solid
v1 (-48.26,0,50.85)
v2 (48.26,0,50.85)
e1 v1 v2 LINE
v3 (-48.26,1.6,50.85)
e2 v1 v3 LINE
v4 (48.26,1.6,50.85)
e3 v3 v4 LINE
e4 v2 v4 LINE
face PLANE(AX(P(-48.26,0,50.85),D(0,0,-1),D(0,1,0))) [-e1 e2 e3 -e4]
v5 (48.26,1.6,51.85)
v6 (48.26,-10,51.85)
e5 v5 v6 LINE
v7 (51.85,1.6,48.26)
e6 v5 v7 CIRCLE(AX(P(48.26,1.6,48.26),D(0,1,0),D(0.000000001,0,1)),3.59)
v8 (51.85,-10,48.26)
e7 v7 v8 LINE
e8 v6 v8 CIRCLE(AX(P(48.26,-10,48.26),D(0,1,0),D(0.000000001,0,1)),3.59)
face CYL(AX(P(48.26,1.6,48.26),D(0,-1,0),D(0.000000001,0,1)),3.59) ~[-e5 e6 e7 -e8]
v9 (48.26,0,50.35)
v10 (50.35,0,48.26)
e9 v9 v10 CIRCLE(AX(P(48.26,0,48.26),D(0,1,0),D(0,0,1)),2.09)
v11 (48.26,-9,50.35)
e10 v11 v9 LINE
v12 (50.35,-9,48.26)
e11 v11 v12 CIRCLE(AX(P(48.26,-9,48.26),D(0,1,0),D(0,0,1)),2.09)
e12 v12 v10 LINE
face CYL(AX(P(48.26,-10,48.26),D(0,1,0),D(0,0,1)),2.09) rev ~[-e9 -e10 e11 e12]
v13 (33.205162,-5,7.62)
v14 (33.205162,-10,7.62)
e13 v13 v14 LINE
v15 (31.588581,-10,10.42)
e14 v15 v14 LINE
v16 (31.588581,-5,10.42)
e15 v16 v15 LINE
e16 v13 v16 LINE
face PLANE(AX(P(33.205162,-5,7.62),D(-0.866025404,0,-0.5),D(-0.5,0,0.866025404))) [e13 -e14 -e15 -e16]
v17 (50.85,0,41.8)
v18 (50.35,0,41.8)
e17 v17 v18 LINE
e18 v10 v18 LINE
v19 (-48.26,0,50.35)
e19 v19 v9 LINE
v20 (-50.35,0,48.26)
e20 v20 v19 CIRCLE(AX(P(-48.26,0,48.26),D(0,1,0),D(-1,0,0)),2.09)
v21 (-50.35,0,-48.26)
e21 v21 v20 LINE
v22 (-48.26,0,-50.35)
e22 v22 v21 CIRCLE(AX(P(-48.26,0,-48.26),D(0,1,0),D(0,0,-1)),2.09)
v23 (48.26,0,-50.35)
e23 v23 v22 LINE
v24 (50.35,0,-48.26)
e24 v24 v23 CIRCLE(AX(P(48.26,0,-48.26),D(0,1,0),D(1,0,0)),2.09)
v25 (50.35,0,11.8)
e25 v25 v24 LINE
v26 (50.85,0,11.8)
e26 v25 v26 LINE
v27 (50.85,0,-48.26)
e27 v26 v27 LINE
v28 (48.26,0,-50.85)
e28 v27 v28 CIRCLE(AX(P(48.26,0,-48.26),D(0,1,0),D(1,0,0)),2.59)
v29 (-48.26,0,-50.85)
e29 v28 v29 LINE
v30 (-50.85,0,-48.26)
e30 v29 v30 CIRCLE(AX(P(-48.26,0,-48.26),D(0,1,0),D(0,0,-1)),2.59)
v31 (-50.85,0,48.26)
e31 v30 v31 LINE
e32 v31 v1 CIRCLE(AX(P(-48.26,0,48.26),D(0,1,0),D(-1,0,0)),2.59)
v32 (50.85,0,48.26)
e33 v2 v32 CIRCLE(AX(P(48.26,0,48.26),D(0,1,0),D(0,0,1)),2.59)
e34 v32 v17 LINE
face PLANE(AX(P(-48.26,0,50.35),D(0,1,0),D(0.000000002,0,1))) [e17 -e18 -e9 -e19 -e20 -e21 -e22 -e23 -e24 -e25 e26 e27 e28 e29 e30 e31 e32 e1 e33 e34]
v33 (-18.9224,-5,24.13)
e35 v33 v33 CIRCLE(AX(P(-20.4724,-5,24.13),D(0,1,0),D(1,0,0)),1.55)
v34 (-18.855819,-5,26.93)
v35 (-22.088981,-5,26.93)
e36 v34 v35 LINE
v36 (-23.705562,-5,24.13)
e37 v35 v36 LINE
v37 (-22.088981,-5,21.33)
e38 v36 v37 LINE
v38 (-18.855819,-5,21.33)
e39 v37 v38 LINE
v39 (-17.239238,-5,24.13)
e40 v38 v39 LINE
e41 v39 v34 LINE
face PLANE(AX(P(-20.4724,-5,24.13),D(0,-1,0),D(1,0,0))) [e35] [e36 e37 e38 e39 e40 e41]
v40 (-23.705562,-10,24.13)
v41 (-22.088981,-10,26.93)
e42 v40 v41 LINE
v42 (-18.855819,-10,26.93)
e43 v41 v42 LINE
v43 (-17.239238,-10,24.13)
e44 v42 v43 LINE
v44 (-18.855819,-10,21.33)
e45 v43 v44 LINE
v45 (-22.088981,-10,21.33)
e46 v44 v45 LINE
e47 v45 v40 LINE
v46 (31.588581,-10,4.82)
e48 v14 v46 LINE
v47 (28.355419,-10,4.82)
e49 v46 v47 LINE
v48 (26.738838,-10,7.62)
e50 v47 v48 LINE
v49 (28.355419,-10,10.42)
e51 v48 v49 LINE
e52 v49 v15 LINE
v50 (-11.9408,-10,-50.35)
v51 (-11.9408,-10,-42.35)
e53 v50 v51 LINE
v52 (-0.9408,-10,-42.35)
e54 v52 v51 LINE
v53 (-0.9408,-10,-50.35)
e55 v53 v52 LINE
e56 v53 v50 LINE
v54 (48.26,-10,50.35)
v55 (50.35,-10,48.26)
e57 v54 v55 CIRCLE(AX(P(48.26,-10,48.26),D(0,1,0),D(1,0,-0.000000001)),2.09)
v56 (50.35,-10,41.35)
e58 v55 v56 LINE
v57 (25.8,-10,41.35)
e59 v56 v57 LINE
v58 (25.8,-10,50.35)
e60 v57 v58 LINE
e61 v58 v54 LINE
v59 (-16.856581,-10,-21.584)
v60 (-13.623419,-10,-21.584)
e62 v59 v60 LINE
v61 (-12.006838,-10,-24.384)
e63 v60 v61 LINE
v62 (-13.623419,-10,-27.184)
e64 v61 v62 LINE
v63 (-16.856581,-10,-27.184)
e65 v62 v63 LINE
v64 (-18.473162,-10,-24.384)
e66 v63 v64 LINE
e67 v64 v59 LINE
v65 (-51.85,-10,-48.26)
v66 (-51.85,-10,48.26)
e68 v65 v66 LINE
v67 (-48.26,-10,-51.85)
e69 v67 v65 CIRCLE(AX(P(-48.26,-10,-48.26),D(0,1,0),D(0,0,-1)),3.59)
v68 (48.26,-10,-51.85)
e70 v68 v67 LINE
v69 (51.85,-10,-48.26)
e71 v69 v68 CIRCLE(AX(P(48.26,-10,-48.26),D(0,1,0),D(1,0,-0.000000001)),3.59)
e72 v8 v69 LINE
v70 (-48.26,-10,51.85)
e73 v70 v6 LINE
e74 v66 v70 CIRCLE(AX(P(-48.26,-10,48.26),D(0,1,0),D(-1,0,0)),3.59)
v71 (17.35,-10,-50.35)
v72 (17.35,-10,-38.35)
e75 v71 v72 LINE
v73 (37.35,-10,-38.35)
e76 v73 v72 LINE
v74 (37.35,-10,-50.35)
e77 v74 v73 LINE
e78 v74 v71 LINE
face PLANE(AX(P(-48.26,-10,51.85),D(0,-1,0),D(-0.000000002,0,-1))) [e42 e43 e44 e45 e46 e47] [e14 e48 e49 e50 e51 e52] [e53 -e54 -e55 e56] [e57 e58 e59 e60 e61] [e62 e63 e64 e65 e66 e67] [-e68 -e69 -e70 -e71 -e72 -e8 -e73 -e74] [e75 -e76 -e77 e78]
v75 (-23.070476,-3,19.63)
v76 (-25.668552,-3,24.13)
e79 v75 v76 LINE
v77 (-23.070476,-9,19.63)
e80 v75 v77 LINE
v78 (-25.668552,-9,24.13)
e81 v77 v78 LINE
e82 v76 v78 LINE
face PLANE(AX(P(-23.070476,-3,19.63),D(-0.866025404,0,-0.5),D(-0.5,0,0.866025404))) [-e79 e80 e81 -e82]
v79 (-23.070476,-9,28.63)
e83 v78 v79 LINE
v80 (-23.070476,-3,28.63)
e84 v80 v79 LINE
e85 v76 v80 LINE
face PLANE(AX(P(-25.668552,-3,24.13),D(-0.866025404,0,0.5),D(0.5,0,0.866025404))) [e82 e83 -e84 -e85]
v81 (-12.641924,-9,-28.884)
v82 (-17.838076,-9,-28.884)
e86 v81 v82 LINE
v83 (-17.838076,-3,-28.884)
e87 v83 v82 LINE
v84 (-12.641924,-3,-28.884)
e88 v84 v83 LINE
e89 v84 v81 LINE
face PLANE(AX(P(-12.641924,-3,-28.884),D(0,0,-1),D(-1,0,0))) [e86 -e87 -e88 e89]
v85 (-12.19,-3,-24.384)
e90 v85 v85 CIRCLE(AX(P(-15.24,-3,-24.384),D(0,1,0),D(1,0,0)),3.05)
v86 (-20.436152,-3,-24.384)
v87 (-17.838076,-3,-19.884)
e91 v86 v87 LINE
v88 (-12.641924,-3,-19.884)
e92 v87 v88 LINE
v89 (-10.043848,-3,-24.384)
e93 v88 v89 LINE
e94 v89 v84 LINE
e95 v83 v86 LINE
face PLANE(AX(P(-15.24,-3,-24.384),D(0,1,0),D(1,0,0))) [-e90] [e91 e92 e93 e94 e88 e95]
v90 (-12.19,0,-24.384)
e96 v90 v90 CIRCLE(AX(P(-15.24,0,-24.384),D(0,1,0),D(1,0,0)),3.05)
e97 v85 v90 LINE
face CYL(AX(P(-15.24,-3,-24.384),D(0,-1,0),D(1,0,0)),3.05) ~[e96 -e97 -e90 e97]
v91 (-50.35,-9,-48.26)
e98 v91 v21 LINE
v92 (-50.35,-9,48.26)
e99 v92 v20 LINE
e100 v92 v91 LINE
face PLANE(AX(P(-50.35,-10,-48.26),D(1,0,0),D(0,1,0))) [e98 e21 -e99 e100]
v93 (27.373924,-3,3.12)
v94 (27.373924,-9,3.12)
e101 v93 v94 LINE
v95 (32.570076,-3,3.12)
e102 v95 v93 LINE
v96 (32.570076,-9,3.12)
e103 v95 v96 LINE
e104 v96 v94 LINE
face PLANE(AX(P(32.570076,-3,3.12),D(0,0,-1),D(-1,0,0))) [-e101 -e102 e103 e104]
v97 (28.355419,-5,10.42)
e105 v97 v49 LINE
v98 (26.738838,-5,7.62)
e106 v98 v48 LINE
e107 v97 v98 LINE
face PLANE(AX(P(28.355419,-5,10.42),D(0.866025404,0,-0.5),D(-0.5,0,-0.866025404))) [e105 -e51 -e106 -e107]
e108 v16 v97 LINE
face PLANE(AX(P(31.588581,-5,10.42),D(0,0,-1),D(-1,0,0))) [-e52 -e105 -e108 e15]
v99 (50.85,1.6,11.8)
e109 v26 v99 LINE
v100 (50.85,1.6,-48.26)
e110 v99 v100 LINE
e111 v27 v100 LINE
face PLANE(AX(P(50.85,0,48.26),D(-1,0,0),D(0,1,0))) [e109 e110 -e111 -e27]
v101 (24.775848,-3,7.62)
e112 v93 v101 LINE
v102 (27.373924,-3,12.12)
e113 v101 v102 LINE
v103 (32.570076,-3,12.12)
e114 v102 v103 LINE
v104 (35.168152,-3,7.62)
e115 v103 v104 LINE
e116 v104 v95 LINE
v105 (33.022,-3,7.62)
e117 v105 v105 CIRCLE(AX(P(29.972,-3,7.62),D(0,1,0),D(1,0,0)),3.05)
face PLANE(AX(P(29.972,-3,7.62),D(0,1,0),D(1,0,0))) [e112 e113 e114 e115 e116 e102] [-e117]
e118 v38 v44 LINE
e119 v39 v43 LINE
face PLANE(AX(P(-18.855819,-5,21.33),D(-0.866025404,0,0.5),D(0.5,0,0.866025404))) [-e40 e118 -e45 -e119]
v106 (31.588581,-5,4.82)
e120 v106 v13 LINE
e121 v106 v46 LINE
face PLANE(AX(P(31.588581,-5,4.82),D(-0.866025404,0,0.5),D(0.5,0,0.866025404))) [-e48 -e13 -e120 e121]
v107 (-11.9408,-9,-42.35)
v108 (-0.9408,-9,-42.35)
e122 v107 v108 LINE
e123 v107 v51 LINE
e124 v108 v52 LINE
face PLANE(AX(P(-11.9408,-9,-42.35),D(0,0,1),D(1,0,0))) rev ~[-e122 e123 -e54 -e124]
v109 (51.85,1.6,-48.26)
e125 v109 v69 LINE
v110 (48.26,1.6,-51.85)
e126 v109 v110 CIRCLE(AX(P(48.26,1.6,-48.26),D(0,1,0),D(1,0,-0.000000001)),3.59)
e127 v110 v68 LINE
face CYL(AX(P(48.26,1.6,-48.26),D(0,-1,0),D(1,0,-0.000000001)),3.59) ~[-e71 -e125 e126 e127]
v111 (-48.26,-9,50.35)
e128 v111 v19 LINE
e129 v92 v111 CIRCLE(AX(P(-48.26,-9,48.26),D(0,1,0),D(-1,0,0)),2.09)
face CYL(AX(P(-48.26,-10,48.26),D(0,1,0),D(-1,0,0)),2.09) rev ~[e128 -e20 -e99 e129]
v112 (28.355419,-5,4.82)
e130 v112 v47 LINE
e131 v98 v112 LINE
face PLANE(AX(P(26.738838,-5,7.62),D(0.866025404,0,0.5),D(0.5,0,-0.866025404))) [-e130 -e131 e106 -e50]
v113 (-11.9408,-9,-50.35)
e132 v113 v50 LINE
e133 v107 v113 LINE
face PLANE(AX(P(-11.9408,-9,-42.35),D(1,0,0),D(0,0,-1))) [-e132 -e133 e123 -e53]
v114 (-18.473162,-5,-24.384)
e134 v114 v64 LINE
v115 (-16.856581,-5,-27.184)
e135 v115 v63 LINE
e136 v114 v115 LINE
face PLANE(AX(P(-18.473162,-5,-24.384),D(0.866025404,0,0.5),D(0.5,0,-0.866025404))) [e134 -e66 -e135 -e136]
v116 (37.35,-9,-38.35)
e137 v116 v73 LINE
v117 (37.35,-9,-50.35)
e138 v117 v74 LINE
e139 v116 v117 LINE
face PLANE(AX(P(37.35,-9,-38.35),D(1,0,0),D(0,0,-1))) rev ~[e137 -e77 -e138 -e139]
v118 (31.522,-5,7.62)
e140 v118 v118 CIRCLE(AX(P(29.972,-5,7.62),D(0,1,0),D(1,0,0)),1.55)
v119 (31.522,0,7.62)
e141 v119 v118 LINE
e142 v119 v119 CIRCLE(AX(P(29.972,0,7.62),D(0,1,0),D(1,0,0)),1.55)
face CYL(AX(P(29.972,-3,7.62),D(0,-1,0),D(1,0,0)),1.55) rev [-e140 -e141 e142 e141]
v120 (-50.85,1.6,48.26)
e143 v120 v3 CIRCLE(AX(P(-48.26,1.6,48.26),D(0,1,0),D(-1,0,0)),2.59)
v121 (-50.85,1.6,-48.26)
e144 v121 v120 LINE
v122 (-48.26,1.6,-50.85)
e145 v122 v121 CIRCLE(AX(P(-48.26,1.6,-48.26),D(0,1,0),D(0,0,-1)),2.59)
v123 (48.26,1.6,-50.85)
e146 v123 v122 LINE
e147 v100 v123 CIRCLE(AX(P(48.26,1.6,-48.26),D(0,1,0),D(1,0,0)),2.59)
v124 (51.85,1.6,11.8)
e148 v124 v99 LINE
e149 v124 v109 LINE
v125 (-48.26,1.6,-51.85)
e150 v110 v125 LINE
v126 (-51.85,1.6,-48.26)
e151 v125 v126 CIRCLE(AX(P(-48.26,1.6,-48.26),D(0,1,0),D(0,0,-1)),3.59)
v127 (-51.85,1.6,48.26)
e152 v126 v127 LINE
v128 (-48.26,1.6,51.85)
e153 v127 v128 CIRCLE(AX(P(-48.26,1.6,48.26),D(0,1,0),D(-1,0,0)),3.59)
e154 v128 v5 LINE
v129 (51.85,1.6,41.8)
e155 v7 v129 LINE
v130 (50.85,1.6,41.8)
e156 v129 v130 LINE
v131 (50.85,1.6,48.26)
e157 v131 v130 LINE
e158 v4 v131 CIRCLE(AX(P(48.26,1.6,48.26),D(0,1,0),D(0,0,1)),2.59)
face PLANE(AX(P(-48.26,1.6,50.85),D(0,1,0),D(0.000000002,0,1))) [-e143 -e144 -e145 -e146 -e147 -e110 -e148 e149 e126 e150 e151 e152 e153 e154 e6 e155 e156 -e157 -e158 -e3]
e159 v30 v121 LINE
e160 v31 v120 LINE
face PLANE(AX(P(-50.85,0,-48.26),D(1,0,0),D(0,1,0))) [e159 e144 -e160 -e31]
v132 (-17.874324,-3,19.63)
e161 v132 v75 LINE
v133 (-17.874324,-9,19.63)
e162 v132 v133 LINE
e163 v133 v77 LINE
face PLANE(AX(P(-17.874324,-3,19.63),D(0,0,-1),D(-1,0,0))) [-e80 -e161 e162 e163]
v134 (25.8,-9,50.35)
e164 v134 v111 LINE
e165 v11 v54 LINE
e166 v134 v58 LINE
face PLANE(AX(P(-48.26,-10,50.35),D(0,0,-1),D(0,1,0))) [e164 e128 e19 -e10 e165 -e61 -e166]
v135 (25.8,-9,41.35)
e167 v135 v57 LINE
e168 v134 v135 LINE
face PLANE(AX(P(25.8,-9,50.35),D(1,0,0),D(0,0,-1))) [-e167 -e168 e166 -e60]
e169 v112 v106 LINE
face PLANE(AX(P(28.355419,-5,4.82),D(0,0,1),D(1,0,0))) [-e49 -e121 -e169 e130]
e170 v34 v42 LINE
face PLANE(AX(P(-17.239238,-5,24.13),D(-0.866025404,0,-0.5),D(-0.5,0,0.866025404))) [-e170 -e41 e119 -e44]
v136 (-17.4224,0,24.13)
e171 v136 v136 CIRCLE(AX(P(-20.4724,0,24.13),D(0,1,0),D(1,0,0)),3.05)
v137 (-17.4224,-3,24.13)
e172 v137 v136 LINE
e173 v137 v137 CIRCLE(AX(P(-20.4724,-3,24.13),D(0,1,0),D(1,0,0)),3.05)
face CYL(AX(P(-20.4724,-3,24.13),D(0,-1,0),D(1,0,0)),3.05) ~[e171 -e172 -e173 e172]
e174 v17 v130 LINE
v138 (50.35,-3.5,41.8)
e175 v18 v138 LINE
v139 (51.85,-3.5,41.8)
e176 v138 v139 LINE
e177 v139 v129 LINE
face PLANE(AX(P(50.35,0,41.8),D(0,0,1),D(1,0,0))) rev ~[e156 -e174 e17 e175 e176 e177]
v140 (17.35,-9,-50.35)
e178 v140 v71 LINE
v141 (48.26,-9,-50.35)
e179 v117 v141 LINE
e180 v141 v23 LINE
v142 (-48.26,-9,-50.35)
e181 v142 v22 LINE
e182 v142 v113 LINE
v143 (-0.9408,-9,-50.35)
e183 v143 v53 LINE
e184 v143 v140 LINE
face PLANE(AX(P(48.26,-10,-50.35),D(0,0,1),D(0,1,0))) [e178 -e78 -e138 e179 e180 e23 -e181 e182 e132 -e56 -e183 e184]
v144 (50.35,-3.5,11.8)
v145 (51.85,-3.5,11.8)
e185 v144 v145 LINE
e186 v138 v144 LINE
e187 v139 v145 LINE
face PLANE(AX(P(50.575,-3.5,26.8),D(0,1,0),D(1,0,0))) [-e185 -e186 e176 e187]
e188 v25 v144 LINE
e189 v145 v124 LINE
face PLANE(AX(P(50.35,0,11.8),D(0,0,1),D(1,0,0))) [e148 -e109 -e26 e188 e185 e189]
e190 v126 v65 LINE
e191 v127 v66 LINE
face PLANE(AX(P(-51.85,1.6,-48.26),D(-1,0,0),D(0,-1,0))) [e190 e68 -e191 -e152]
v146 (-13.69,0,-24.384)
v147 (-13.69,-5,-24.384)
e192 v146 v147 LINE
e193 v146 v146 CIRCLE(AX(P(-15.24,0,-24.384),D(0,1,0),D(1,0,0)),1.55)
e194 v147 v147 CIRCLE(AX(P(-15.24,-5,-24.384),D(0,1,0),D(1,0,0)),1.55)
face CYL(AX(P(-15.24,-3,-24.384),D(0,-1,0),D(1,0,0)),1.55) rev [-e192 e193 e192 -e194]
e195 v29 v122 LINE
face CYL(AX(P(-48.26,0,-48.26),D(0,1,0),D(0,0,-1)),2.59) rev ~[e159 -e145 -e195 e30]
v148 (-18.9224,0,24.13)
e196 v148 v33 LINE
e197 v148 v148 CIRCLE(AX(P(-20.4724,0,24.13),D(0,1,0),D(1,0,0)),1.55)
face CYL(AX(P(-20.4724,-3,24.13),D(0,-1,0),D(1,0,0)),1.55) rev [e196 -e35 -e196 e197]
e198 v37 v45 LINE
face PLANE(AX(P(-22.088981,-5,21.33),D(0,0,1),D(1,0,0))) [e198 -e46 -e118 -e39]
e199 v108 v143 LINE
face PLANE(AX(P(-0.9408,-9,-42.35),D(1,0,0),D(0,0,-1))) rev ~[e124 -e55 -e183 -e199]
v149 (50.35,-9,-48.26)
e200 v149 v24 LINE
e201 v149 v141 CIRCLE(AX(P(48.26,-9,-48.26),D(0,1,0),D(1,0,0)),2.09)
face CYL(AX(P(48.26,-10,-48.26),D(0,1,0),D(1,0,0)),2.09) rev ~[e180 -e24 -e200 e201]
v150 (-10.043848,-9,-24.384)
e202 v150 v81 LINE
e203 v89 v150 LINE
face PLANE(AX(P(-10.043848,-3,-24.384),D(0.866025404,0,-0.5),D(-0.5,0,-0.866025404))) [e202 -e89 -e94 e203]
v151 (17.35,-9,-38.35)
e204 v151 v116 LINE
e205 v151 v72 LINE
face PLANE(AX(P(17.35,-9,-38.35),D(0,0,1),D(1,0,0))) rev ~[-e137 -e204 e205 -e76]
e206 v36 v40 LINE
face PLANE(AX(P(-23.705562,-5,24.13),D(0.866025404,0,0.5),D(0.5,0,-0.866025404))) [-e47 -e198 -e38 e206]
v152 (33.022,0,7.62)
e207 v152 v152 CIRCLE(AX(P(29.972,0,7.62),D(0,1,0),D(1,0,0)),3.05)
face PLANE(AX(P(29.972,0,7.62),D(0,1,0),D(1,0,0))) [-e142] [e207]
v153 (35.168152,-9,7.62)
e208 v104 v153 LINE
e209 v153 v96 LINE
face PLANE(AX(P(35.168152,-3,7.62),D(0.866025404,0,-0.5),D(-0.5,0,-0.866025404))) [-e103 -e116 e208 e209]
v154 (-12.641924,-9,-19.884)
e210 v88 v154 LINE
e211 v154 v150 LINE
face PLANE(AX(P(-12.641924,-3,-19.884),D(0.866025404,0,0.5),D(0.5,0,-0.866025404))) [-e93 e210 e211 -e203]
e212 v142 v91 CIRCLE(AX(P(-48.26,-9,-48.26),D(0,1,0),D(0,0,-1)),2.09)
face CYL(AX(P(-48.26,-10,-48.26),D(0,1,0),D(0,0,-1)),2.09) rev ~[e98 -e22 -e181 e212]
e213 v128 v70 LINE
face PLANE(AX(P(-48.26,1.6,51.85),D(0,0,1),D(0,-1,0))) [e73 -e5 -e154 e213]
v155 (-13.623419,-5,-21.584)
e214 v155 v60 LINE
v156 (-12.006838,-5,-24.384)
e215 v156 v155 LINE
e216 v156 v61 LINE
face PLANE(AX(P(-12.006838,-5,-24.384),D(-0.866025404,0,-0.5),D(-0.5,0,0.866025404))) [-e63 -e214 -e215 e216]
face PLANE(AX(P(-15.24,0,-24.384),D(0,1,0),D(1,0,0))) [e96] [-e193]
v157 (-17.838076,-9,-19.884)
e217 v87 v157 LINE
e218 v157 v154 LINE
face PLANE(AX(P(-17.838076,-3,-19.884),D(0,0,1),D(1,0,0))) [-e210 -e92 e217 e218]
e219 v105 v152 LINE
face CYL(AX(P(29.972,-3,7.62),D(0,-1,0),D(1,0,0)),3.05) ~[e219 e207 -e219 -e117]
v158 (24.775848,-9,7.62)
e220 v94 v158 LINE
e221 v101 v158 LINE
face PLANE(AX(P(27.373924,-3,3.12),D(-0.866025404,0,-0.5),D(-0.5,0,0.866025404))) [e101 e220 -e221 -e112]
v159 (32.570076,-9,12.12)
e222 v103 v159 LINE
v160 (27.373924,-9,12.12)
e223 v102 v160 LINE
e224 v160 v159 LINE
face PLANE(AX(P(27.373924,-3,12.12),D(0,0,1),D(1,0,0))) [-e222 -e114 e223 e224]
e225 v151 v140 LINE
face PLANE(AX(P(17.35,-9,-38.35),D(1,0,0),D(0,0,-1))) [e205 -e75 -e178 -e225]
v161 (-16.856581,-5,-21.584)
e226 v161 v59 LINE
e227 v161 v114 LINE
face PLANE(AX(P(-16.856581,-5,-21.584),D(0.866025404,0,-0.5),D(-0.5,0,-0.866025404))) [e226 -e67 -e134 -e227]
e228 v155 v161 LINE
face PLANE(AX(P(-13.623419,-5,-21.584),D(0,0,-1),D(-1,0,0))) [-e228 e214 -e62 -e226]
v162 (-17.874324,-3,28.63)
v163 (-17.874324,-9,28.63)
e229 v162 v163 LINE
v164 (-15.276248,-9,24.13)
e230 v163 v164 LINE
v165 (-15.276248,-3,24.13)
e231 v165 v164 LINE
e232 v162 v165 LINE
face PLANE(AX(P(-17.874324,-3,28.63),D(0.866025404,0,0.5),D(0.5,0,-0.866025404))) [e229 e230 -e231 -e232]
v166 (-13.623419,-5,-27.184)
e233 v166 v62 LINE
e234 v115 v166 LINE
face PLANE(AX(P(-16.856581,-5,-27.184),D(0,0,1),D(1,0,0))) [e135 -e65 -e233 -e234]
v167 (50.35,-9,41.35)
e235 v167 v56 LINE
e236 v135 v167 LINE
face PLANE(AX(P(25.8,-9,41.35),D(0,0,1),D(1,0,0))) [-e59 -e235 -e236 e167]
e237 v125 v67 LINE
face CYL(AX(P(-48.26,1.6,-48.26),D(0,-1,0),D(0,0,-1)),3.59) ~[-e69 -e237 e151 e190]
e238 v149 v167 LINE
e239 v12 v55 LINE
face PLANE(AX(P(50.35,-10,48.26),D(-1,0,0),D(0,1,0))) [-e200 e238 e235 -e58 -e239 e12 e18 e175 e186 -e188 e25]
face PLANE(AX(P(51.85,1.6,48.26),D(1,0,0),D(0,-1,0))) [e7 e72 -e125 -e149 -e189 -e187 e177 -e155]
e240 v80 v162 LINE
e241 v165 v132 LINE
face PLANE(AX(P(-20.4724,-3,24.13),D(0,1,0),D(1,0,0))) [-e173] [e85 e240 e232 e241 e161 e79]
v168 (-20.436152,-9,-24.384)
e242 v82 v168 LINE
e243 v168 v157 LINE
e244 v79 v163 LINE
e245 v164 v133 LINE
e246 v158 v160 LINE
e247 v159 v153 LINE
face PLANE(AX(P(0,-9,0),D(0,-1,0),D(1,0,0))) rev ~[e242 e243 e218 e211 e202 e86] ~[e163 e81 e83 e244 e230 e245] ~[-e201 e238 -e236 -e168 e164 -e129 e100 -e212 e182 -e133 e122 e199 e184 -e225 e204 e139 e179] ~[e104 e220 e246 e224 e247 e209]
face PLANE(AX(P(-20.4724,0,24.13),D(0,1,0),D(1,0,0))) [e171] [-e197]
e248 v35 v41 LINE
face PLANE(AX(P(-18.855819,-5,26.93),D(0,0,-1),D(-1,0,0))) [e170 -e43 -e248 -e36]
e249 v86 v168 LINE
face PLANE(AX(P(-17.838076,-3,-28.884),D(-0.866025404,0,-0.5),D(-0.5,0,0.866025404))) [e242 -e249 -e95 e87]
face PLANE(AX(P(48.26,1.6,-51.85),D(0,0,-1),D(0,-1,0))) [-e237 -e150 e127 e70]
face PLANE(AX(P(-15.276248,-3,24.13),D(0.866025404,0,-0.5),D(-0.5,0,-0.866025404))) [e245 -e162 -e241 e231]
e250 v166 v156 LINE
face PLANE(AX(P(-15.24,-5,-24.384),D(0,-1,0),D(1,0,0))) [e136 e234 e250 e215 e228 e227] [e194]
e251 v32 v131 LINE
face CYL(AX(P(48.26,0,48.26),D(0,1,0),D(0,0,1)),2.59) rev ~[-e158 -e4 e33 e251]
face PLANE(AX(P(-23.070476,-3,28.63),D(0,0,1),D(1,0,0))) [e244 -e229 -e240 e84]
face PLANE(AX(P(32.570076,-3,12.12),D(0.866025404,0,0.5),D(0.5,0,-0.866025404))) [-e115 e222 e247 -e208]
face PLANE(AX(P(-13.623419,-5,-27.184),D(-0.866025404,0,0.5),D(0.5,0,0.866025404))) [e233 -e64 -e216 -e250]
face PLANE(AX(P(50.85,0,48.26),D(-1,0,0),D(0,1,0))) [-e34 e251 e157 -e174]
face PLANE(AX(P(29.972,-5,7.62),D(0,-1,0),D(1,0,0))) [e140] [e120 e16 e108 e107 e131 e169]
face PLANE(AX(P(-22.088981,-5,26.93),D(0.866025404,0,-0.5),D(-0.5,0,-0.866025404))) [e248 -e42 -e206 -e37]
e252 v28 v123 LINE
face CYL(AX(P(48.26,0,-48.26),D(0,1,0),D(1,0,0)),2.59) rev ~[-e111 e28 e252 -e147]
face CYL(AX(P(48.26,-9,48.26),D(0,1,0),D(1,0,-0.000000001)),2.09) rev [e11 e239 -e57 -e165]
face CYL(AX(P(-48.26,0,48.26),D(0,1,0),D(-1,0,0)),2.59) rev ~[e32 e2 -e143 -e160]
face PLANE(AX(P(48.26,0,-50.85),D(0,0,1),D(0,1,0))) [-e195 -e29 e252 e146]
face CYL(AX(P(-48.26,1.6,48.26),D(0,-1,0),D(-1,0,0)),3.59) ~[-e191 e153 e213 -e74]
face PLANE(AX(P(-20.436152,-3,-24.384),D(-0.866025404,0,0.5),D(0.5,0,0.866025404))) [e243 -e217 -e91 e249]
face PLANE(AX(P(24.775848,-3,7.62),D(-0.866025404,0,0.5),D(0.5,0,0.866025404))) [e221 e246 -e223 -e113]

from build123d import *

# Parameters (mm, degrees)
SKETCH5_R           = 1.55
BOSS_EXTRUDE2_DEPTH = 1
BOSS_EXTRUDE3_START = -3
SKETCH6_R           = 1.55
BOSS_EXTRUDE3_DEPTH = 6
SKETCH11_R          = 3.05
SKETCH11_R_2        = 1.55
BOSS_EXTRUDE4_DEPTH = 3
CUT_EXTRUDE1_START  = 2
CUT_EXTRUDE1_DEPTH  = 6
SKETCH8_W           = 11
SKETCH8_H           = 8
SKETCH8_W_2         = 20
SKETCH8_H_2         = 12
CUT_EXTRUDE2_DEPTH  = 2
SKETCH9_W           = 0.45
SKETCH9_H           = 30
CUT_EXTRUDE3_DEPTH  = 3.5
CUT_EXTRUDE4_REACH  = 105.7
SKETCH10_W          = 30
SKETCH10_H          = 5.1


with BuildPart() as part:
    # Sweep1: sweep along a path in Sketch1
    with BuildLine(Plane(origin=(0, 0, 0), x_dir=(1, 0, 0), z_dir=(0, 1, 0))) as sweep1_path:
        Line((-48.26, -50.8), (48.26, -50.8))
        ThreePointArc((48.26, -50.8), (50.056051224, -50.056051224), (50.8, -48.26))
        Line((50.8, -48.26), (50.8, 48.26))
        ThreePointArc((50.8, 48.26), (50.056051224, 50.056051224), (48.26, 50.8))
        Line((48.26, 50.8), (-48.26, 50.8))
        ThreePointArc((-48.26, 50.8), (-50.056051224, 50.056051224), (-50.8, 48.26))
        Line((-50.8, 48.26), (-50.8, -48.26))
        ThreePointArc((-50.8, -48.26), (-50.056051224, -50.056051224), (-48.26, -50.8))
    # Sketch3 → Sweep1 (sweep)
    with BuildSketch(Plane.XY):
        Polygon((-50.85, 1.6), (-51.85, 1.6), (-51.85, -10), (-50.35, -10), (-50.35, 0), (-50.85, 0), align=None)
    sweep(path=sweep1_path.line)

    # Sketch5 → Boss-Extrude2 (add)
    with BuildSketch(Plane.XZ.offset(10)):
        with BuildLine():
            Line((-50.8, 48.26), (-50.8, -48.26))
            ThreePointArc((-50.8, -48.26), (-50.056051224, -50.056051224), (-48.26, -50.8))
            Line((-48.26, -50.8), (48.26, -50.8))
            ThreePointArc((48.26, -50.8), (50.056051224, -50.056051224), (50.8, -48.26))
            Line((50.8, -48.26), (50.8, 48.26))
            ThreePointArc((50.8, 48.26), (50.056051224, 50.056051224), (48.26, 50.8))
            Line((48.26, 50.8), (-48.26, 50.8))
            ThreePointArc((-48.26, 50.8), (-50.056051224, 50.056051224), (-50.8, 48.26))
        make_face()
        with Locations((-15.24, -24.384)):
            Circle(SKETCH5_R, mode=Mode.SUBTRACT)
        with Locations((29.972, 7.62)):
            Circle(SKETCH5_R, mode=Mode.SUBTRACT)
        with Locations((-20.4724, 24.13)):
            Circle(SKETCH5_R, mode=Mode.SUBTRACT)
    extrude(amount=-BOSS_EXTRUDE2_DEPTH)

    # Sketch6 → Boss-Extrude3 (add)
    with BuildSketch(Plane(origin=(0, 0, 0), x_dir=(1, 0, 0), z_dir=(0, 1, 0)).offset(BOSS_EXTRUDE3_START)):
        Polygon((-10.043847577, 24.384), (-12.641923789, 28.884), (-17.838076211, 28.884), (-20.436152423, 24.384), (-17.838076211, 19.884), (-12.641923789, 19.884), align=None)
        with Locations((-15.24, 24.384)):
            Circle(SKETCH6_R, mode=Mode.SUBTRACT)
        Polygon((35.168152423, -7.62), (32.570076211, -3.12), (27.373923789, -3.12), (24.775847577, -7.62), (27.373923789, -12.12), (32.570076211, -12.12), align=None)
        with Locations((29.972, -7.62)):
            Circle(SKETCH6_R, mode=Mode.SUBTRACT)
        Polygon((-15.276247577, -24.13), (-17.874323789, -19.63), (-23.070476211, -19.63), (-25.668552423, -24.13), (-23.070476211, -28.63), (-17.874323789, -28.63), align=None)
        with Locations((-20.4724, -24.13)):
            Circle(SKETCH6_R, mode=Mode.SUBTRACT)
    extrude(amount=-BOSS_EXTRUDE3_DEPTH)

    # Sketch11 → Boss-Extrude4 (add)
    with BuildSketch(Plane(origin=(0, -3, 0), x_dir=(1, 0, 0), z_dir=(0, 1, 0))):
        with Locations((-15.24, 24.384)):
            Circle(SKETCH11_R)
        with Locations((-15.24, 24.384)):
            Circle(SKETCH11_R_2, mode=Mode.SUBTRACT)
        with Locations((-20.4724, -24.13)):
            Circle(SKETCH11_R)
        with Locations((-20.4724, -24.13)):
            Circle(SKETCH11_R_2, mode=Mode.SUBTRACT)
        with Locations((29.972, -7.62)):
            Circle(SKETCH11_R)
        with Locations((29.972, -7.62)):
            Circle(SKETCH11_R_2, mode=Mode.SUBTRACT)
    extrude(amount=BOSS_EXTRUDE4_DEPTH)

    # Sketch7 → Cut-Extrude1 (cut, through all)
    with BuildSketch(Plane.XZ.offset(3).offset(CUT_EXTRUDE1_START)):
        Polygon((-17.239238493, 24.13), (-18.855819246, 26.93), (-22.088980754, 26.93), (-23.705561507, 24.13), (-22.088980754, 21.33), (-18.855819246, 21.33), align=None)
        Polygon((33.205161507, 7.62), (31.588580754, 10.42), (28.355419246, 10.42), (26.738838493, 7.62), (28.355419246, 4.82), (31.588580754, 4.82), align=None)
        Polygon((-12.006838493, -24.384), (-13.623419246, -21.584), (-16.856580754, -21.584), (-18.473161507, -24.384), (-16.856580754, -27.184), (-13.623419246, -27.184), align=None)
    extrude(amount=CUT_EXTRUDE1_DEPTH, mode=Mode.SUBTRACT)

    # Sketch8 → Cut-Extrude2 (cut, through all)
    with BuildSketch(Plane(origin=(0, -9, 0), x_dir=(1, 0, 0), z_dir=(0, 1, 0))):
        with Locations((-6.4408, 46.35)):
            Rectangle(SKETCH8_W, SKETCH8_H)
        with BuildLine():
            Line((50.35, -41.35), (50.35, -48.26))
            ThreePointArc((50.35, -48.26), (49.737853173, -49.737853173), (48.26, -50.35))
            Line((48.26, -50.35), (25.8, -50.35))
            Line((25.8, -50.35), (25.8, -41.35))
            Line((25.8, -41.35), (50.35, -41.35))
        make_face()
        with Locations((27.35, 44.35)):
            Rectangle(SKETCH8_W_2, SKETCH8_H_2)
    extrude(amount=-CUT_EXTRUDE2_DEPTH, mode=Mode.SUBTRACT)

    # Sketch9 → Cut-Extrude3 (cut)
    with BuildSketch(Plane(origin=(0, 0, 0), x_dir=(1, 0, 0), z_dir=(0, 1, 0))):
        with Locations((50.575, -26.8)):
            Rectangle(SKETCH9_W, SKETCH9_H)
    extrude(amount=-CUT_EXTRUDE3_DEPTH, mode=Mode.SUBTRACT)

    # Sketch10 → Cut-Extrude4 (cut, up to next)
    with BuildSketch(Plane(origin=(51.85, 0, 0), x_dir=(0, 0, -1), z_dir=(1, 0, 0)), mode=Mode.PRIVATE) as cut_extrude4_sk1:
        with Locations((-26.8, -0.95)):
            Rectangle(SKETCH10_W, SKETCH10_H)
    cut_extrude4_tool1 = extrude(cut_extrude4_sk1.sketch, amount=-CUT_EXTRUDE4_REACH, mode=Mode.PRIVATE) & part.part
    add(cut_extrude4_tool1.solids().sort_by_distance((51.85, -0.95, 26.8))[0], mode=Mode.SUBTRACT)


solid = part.part
